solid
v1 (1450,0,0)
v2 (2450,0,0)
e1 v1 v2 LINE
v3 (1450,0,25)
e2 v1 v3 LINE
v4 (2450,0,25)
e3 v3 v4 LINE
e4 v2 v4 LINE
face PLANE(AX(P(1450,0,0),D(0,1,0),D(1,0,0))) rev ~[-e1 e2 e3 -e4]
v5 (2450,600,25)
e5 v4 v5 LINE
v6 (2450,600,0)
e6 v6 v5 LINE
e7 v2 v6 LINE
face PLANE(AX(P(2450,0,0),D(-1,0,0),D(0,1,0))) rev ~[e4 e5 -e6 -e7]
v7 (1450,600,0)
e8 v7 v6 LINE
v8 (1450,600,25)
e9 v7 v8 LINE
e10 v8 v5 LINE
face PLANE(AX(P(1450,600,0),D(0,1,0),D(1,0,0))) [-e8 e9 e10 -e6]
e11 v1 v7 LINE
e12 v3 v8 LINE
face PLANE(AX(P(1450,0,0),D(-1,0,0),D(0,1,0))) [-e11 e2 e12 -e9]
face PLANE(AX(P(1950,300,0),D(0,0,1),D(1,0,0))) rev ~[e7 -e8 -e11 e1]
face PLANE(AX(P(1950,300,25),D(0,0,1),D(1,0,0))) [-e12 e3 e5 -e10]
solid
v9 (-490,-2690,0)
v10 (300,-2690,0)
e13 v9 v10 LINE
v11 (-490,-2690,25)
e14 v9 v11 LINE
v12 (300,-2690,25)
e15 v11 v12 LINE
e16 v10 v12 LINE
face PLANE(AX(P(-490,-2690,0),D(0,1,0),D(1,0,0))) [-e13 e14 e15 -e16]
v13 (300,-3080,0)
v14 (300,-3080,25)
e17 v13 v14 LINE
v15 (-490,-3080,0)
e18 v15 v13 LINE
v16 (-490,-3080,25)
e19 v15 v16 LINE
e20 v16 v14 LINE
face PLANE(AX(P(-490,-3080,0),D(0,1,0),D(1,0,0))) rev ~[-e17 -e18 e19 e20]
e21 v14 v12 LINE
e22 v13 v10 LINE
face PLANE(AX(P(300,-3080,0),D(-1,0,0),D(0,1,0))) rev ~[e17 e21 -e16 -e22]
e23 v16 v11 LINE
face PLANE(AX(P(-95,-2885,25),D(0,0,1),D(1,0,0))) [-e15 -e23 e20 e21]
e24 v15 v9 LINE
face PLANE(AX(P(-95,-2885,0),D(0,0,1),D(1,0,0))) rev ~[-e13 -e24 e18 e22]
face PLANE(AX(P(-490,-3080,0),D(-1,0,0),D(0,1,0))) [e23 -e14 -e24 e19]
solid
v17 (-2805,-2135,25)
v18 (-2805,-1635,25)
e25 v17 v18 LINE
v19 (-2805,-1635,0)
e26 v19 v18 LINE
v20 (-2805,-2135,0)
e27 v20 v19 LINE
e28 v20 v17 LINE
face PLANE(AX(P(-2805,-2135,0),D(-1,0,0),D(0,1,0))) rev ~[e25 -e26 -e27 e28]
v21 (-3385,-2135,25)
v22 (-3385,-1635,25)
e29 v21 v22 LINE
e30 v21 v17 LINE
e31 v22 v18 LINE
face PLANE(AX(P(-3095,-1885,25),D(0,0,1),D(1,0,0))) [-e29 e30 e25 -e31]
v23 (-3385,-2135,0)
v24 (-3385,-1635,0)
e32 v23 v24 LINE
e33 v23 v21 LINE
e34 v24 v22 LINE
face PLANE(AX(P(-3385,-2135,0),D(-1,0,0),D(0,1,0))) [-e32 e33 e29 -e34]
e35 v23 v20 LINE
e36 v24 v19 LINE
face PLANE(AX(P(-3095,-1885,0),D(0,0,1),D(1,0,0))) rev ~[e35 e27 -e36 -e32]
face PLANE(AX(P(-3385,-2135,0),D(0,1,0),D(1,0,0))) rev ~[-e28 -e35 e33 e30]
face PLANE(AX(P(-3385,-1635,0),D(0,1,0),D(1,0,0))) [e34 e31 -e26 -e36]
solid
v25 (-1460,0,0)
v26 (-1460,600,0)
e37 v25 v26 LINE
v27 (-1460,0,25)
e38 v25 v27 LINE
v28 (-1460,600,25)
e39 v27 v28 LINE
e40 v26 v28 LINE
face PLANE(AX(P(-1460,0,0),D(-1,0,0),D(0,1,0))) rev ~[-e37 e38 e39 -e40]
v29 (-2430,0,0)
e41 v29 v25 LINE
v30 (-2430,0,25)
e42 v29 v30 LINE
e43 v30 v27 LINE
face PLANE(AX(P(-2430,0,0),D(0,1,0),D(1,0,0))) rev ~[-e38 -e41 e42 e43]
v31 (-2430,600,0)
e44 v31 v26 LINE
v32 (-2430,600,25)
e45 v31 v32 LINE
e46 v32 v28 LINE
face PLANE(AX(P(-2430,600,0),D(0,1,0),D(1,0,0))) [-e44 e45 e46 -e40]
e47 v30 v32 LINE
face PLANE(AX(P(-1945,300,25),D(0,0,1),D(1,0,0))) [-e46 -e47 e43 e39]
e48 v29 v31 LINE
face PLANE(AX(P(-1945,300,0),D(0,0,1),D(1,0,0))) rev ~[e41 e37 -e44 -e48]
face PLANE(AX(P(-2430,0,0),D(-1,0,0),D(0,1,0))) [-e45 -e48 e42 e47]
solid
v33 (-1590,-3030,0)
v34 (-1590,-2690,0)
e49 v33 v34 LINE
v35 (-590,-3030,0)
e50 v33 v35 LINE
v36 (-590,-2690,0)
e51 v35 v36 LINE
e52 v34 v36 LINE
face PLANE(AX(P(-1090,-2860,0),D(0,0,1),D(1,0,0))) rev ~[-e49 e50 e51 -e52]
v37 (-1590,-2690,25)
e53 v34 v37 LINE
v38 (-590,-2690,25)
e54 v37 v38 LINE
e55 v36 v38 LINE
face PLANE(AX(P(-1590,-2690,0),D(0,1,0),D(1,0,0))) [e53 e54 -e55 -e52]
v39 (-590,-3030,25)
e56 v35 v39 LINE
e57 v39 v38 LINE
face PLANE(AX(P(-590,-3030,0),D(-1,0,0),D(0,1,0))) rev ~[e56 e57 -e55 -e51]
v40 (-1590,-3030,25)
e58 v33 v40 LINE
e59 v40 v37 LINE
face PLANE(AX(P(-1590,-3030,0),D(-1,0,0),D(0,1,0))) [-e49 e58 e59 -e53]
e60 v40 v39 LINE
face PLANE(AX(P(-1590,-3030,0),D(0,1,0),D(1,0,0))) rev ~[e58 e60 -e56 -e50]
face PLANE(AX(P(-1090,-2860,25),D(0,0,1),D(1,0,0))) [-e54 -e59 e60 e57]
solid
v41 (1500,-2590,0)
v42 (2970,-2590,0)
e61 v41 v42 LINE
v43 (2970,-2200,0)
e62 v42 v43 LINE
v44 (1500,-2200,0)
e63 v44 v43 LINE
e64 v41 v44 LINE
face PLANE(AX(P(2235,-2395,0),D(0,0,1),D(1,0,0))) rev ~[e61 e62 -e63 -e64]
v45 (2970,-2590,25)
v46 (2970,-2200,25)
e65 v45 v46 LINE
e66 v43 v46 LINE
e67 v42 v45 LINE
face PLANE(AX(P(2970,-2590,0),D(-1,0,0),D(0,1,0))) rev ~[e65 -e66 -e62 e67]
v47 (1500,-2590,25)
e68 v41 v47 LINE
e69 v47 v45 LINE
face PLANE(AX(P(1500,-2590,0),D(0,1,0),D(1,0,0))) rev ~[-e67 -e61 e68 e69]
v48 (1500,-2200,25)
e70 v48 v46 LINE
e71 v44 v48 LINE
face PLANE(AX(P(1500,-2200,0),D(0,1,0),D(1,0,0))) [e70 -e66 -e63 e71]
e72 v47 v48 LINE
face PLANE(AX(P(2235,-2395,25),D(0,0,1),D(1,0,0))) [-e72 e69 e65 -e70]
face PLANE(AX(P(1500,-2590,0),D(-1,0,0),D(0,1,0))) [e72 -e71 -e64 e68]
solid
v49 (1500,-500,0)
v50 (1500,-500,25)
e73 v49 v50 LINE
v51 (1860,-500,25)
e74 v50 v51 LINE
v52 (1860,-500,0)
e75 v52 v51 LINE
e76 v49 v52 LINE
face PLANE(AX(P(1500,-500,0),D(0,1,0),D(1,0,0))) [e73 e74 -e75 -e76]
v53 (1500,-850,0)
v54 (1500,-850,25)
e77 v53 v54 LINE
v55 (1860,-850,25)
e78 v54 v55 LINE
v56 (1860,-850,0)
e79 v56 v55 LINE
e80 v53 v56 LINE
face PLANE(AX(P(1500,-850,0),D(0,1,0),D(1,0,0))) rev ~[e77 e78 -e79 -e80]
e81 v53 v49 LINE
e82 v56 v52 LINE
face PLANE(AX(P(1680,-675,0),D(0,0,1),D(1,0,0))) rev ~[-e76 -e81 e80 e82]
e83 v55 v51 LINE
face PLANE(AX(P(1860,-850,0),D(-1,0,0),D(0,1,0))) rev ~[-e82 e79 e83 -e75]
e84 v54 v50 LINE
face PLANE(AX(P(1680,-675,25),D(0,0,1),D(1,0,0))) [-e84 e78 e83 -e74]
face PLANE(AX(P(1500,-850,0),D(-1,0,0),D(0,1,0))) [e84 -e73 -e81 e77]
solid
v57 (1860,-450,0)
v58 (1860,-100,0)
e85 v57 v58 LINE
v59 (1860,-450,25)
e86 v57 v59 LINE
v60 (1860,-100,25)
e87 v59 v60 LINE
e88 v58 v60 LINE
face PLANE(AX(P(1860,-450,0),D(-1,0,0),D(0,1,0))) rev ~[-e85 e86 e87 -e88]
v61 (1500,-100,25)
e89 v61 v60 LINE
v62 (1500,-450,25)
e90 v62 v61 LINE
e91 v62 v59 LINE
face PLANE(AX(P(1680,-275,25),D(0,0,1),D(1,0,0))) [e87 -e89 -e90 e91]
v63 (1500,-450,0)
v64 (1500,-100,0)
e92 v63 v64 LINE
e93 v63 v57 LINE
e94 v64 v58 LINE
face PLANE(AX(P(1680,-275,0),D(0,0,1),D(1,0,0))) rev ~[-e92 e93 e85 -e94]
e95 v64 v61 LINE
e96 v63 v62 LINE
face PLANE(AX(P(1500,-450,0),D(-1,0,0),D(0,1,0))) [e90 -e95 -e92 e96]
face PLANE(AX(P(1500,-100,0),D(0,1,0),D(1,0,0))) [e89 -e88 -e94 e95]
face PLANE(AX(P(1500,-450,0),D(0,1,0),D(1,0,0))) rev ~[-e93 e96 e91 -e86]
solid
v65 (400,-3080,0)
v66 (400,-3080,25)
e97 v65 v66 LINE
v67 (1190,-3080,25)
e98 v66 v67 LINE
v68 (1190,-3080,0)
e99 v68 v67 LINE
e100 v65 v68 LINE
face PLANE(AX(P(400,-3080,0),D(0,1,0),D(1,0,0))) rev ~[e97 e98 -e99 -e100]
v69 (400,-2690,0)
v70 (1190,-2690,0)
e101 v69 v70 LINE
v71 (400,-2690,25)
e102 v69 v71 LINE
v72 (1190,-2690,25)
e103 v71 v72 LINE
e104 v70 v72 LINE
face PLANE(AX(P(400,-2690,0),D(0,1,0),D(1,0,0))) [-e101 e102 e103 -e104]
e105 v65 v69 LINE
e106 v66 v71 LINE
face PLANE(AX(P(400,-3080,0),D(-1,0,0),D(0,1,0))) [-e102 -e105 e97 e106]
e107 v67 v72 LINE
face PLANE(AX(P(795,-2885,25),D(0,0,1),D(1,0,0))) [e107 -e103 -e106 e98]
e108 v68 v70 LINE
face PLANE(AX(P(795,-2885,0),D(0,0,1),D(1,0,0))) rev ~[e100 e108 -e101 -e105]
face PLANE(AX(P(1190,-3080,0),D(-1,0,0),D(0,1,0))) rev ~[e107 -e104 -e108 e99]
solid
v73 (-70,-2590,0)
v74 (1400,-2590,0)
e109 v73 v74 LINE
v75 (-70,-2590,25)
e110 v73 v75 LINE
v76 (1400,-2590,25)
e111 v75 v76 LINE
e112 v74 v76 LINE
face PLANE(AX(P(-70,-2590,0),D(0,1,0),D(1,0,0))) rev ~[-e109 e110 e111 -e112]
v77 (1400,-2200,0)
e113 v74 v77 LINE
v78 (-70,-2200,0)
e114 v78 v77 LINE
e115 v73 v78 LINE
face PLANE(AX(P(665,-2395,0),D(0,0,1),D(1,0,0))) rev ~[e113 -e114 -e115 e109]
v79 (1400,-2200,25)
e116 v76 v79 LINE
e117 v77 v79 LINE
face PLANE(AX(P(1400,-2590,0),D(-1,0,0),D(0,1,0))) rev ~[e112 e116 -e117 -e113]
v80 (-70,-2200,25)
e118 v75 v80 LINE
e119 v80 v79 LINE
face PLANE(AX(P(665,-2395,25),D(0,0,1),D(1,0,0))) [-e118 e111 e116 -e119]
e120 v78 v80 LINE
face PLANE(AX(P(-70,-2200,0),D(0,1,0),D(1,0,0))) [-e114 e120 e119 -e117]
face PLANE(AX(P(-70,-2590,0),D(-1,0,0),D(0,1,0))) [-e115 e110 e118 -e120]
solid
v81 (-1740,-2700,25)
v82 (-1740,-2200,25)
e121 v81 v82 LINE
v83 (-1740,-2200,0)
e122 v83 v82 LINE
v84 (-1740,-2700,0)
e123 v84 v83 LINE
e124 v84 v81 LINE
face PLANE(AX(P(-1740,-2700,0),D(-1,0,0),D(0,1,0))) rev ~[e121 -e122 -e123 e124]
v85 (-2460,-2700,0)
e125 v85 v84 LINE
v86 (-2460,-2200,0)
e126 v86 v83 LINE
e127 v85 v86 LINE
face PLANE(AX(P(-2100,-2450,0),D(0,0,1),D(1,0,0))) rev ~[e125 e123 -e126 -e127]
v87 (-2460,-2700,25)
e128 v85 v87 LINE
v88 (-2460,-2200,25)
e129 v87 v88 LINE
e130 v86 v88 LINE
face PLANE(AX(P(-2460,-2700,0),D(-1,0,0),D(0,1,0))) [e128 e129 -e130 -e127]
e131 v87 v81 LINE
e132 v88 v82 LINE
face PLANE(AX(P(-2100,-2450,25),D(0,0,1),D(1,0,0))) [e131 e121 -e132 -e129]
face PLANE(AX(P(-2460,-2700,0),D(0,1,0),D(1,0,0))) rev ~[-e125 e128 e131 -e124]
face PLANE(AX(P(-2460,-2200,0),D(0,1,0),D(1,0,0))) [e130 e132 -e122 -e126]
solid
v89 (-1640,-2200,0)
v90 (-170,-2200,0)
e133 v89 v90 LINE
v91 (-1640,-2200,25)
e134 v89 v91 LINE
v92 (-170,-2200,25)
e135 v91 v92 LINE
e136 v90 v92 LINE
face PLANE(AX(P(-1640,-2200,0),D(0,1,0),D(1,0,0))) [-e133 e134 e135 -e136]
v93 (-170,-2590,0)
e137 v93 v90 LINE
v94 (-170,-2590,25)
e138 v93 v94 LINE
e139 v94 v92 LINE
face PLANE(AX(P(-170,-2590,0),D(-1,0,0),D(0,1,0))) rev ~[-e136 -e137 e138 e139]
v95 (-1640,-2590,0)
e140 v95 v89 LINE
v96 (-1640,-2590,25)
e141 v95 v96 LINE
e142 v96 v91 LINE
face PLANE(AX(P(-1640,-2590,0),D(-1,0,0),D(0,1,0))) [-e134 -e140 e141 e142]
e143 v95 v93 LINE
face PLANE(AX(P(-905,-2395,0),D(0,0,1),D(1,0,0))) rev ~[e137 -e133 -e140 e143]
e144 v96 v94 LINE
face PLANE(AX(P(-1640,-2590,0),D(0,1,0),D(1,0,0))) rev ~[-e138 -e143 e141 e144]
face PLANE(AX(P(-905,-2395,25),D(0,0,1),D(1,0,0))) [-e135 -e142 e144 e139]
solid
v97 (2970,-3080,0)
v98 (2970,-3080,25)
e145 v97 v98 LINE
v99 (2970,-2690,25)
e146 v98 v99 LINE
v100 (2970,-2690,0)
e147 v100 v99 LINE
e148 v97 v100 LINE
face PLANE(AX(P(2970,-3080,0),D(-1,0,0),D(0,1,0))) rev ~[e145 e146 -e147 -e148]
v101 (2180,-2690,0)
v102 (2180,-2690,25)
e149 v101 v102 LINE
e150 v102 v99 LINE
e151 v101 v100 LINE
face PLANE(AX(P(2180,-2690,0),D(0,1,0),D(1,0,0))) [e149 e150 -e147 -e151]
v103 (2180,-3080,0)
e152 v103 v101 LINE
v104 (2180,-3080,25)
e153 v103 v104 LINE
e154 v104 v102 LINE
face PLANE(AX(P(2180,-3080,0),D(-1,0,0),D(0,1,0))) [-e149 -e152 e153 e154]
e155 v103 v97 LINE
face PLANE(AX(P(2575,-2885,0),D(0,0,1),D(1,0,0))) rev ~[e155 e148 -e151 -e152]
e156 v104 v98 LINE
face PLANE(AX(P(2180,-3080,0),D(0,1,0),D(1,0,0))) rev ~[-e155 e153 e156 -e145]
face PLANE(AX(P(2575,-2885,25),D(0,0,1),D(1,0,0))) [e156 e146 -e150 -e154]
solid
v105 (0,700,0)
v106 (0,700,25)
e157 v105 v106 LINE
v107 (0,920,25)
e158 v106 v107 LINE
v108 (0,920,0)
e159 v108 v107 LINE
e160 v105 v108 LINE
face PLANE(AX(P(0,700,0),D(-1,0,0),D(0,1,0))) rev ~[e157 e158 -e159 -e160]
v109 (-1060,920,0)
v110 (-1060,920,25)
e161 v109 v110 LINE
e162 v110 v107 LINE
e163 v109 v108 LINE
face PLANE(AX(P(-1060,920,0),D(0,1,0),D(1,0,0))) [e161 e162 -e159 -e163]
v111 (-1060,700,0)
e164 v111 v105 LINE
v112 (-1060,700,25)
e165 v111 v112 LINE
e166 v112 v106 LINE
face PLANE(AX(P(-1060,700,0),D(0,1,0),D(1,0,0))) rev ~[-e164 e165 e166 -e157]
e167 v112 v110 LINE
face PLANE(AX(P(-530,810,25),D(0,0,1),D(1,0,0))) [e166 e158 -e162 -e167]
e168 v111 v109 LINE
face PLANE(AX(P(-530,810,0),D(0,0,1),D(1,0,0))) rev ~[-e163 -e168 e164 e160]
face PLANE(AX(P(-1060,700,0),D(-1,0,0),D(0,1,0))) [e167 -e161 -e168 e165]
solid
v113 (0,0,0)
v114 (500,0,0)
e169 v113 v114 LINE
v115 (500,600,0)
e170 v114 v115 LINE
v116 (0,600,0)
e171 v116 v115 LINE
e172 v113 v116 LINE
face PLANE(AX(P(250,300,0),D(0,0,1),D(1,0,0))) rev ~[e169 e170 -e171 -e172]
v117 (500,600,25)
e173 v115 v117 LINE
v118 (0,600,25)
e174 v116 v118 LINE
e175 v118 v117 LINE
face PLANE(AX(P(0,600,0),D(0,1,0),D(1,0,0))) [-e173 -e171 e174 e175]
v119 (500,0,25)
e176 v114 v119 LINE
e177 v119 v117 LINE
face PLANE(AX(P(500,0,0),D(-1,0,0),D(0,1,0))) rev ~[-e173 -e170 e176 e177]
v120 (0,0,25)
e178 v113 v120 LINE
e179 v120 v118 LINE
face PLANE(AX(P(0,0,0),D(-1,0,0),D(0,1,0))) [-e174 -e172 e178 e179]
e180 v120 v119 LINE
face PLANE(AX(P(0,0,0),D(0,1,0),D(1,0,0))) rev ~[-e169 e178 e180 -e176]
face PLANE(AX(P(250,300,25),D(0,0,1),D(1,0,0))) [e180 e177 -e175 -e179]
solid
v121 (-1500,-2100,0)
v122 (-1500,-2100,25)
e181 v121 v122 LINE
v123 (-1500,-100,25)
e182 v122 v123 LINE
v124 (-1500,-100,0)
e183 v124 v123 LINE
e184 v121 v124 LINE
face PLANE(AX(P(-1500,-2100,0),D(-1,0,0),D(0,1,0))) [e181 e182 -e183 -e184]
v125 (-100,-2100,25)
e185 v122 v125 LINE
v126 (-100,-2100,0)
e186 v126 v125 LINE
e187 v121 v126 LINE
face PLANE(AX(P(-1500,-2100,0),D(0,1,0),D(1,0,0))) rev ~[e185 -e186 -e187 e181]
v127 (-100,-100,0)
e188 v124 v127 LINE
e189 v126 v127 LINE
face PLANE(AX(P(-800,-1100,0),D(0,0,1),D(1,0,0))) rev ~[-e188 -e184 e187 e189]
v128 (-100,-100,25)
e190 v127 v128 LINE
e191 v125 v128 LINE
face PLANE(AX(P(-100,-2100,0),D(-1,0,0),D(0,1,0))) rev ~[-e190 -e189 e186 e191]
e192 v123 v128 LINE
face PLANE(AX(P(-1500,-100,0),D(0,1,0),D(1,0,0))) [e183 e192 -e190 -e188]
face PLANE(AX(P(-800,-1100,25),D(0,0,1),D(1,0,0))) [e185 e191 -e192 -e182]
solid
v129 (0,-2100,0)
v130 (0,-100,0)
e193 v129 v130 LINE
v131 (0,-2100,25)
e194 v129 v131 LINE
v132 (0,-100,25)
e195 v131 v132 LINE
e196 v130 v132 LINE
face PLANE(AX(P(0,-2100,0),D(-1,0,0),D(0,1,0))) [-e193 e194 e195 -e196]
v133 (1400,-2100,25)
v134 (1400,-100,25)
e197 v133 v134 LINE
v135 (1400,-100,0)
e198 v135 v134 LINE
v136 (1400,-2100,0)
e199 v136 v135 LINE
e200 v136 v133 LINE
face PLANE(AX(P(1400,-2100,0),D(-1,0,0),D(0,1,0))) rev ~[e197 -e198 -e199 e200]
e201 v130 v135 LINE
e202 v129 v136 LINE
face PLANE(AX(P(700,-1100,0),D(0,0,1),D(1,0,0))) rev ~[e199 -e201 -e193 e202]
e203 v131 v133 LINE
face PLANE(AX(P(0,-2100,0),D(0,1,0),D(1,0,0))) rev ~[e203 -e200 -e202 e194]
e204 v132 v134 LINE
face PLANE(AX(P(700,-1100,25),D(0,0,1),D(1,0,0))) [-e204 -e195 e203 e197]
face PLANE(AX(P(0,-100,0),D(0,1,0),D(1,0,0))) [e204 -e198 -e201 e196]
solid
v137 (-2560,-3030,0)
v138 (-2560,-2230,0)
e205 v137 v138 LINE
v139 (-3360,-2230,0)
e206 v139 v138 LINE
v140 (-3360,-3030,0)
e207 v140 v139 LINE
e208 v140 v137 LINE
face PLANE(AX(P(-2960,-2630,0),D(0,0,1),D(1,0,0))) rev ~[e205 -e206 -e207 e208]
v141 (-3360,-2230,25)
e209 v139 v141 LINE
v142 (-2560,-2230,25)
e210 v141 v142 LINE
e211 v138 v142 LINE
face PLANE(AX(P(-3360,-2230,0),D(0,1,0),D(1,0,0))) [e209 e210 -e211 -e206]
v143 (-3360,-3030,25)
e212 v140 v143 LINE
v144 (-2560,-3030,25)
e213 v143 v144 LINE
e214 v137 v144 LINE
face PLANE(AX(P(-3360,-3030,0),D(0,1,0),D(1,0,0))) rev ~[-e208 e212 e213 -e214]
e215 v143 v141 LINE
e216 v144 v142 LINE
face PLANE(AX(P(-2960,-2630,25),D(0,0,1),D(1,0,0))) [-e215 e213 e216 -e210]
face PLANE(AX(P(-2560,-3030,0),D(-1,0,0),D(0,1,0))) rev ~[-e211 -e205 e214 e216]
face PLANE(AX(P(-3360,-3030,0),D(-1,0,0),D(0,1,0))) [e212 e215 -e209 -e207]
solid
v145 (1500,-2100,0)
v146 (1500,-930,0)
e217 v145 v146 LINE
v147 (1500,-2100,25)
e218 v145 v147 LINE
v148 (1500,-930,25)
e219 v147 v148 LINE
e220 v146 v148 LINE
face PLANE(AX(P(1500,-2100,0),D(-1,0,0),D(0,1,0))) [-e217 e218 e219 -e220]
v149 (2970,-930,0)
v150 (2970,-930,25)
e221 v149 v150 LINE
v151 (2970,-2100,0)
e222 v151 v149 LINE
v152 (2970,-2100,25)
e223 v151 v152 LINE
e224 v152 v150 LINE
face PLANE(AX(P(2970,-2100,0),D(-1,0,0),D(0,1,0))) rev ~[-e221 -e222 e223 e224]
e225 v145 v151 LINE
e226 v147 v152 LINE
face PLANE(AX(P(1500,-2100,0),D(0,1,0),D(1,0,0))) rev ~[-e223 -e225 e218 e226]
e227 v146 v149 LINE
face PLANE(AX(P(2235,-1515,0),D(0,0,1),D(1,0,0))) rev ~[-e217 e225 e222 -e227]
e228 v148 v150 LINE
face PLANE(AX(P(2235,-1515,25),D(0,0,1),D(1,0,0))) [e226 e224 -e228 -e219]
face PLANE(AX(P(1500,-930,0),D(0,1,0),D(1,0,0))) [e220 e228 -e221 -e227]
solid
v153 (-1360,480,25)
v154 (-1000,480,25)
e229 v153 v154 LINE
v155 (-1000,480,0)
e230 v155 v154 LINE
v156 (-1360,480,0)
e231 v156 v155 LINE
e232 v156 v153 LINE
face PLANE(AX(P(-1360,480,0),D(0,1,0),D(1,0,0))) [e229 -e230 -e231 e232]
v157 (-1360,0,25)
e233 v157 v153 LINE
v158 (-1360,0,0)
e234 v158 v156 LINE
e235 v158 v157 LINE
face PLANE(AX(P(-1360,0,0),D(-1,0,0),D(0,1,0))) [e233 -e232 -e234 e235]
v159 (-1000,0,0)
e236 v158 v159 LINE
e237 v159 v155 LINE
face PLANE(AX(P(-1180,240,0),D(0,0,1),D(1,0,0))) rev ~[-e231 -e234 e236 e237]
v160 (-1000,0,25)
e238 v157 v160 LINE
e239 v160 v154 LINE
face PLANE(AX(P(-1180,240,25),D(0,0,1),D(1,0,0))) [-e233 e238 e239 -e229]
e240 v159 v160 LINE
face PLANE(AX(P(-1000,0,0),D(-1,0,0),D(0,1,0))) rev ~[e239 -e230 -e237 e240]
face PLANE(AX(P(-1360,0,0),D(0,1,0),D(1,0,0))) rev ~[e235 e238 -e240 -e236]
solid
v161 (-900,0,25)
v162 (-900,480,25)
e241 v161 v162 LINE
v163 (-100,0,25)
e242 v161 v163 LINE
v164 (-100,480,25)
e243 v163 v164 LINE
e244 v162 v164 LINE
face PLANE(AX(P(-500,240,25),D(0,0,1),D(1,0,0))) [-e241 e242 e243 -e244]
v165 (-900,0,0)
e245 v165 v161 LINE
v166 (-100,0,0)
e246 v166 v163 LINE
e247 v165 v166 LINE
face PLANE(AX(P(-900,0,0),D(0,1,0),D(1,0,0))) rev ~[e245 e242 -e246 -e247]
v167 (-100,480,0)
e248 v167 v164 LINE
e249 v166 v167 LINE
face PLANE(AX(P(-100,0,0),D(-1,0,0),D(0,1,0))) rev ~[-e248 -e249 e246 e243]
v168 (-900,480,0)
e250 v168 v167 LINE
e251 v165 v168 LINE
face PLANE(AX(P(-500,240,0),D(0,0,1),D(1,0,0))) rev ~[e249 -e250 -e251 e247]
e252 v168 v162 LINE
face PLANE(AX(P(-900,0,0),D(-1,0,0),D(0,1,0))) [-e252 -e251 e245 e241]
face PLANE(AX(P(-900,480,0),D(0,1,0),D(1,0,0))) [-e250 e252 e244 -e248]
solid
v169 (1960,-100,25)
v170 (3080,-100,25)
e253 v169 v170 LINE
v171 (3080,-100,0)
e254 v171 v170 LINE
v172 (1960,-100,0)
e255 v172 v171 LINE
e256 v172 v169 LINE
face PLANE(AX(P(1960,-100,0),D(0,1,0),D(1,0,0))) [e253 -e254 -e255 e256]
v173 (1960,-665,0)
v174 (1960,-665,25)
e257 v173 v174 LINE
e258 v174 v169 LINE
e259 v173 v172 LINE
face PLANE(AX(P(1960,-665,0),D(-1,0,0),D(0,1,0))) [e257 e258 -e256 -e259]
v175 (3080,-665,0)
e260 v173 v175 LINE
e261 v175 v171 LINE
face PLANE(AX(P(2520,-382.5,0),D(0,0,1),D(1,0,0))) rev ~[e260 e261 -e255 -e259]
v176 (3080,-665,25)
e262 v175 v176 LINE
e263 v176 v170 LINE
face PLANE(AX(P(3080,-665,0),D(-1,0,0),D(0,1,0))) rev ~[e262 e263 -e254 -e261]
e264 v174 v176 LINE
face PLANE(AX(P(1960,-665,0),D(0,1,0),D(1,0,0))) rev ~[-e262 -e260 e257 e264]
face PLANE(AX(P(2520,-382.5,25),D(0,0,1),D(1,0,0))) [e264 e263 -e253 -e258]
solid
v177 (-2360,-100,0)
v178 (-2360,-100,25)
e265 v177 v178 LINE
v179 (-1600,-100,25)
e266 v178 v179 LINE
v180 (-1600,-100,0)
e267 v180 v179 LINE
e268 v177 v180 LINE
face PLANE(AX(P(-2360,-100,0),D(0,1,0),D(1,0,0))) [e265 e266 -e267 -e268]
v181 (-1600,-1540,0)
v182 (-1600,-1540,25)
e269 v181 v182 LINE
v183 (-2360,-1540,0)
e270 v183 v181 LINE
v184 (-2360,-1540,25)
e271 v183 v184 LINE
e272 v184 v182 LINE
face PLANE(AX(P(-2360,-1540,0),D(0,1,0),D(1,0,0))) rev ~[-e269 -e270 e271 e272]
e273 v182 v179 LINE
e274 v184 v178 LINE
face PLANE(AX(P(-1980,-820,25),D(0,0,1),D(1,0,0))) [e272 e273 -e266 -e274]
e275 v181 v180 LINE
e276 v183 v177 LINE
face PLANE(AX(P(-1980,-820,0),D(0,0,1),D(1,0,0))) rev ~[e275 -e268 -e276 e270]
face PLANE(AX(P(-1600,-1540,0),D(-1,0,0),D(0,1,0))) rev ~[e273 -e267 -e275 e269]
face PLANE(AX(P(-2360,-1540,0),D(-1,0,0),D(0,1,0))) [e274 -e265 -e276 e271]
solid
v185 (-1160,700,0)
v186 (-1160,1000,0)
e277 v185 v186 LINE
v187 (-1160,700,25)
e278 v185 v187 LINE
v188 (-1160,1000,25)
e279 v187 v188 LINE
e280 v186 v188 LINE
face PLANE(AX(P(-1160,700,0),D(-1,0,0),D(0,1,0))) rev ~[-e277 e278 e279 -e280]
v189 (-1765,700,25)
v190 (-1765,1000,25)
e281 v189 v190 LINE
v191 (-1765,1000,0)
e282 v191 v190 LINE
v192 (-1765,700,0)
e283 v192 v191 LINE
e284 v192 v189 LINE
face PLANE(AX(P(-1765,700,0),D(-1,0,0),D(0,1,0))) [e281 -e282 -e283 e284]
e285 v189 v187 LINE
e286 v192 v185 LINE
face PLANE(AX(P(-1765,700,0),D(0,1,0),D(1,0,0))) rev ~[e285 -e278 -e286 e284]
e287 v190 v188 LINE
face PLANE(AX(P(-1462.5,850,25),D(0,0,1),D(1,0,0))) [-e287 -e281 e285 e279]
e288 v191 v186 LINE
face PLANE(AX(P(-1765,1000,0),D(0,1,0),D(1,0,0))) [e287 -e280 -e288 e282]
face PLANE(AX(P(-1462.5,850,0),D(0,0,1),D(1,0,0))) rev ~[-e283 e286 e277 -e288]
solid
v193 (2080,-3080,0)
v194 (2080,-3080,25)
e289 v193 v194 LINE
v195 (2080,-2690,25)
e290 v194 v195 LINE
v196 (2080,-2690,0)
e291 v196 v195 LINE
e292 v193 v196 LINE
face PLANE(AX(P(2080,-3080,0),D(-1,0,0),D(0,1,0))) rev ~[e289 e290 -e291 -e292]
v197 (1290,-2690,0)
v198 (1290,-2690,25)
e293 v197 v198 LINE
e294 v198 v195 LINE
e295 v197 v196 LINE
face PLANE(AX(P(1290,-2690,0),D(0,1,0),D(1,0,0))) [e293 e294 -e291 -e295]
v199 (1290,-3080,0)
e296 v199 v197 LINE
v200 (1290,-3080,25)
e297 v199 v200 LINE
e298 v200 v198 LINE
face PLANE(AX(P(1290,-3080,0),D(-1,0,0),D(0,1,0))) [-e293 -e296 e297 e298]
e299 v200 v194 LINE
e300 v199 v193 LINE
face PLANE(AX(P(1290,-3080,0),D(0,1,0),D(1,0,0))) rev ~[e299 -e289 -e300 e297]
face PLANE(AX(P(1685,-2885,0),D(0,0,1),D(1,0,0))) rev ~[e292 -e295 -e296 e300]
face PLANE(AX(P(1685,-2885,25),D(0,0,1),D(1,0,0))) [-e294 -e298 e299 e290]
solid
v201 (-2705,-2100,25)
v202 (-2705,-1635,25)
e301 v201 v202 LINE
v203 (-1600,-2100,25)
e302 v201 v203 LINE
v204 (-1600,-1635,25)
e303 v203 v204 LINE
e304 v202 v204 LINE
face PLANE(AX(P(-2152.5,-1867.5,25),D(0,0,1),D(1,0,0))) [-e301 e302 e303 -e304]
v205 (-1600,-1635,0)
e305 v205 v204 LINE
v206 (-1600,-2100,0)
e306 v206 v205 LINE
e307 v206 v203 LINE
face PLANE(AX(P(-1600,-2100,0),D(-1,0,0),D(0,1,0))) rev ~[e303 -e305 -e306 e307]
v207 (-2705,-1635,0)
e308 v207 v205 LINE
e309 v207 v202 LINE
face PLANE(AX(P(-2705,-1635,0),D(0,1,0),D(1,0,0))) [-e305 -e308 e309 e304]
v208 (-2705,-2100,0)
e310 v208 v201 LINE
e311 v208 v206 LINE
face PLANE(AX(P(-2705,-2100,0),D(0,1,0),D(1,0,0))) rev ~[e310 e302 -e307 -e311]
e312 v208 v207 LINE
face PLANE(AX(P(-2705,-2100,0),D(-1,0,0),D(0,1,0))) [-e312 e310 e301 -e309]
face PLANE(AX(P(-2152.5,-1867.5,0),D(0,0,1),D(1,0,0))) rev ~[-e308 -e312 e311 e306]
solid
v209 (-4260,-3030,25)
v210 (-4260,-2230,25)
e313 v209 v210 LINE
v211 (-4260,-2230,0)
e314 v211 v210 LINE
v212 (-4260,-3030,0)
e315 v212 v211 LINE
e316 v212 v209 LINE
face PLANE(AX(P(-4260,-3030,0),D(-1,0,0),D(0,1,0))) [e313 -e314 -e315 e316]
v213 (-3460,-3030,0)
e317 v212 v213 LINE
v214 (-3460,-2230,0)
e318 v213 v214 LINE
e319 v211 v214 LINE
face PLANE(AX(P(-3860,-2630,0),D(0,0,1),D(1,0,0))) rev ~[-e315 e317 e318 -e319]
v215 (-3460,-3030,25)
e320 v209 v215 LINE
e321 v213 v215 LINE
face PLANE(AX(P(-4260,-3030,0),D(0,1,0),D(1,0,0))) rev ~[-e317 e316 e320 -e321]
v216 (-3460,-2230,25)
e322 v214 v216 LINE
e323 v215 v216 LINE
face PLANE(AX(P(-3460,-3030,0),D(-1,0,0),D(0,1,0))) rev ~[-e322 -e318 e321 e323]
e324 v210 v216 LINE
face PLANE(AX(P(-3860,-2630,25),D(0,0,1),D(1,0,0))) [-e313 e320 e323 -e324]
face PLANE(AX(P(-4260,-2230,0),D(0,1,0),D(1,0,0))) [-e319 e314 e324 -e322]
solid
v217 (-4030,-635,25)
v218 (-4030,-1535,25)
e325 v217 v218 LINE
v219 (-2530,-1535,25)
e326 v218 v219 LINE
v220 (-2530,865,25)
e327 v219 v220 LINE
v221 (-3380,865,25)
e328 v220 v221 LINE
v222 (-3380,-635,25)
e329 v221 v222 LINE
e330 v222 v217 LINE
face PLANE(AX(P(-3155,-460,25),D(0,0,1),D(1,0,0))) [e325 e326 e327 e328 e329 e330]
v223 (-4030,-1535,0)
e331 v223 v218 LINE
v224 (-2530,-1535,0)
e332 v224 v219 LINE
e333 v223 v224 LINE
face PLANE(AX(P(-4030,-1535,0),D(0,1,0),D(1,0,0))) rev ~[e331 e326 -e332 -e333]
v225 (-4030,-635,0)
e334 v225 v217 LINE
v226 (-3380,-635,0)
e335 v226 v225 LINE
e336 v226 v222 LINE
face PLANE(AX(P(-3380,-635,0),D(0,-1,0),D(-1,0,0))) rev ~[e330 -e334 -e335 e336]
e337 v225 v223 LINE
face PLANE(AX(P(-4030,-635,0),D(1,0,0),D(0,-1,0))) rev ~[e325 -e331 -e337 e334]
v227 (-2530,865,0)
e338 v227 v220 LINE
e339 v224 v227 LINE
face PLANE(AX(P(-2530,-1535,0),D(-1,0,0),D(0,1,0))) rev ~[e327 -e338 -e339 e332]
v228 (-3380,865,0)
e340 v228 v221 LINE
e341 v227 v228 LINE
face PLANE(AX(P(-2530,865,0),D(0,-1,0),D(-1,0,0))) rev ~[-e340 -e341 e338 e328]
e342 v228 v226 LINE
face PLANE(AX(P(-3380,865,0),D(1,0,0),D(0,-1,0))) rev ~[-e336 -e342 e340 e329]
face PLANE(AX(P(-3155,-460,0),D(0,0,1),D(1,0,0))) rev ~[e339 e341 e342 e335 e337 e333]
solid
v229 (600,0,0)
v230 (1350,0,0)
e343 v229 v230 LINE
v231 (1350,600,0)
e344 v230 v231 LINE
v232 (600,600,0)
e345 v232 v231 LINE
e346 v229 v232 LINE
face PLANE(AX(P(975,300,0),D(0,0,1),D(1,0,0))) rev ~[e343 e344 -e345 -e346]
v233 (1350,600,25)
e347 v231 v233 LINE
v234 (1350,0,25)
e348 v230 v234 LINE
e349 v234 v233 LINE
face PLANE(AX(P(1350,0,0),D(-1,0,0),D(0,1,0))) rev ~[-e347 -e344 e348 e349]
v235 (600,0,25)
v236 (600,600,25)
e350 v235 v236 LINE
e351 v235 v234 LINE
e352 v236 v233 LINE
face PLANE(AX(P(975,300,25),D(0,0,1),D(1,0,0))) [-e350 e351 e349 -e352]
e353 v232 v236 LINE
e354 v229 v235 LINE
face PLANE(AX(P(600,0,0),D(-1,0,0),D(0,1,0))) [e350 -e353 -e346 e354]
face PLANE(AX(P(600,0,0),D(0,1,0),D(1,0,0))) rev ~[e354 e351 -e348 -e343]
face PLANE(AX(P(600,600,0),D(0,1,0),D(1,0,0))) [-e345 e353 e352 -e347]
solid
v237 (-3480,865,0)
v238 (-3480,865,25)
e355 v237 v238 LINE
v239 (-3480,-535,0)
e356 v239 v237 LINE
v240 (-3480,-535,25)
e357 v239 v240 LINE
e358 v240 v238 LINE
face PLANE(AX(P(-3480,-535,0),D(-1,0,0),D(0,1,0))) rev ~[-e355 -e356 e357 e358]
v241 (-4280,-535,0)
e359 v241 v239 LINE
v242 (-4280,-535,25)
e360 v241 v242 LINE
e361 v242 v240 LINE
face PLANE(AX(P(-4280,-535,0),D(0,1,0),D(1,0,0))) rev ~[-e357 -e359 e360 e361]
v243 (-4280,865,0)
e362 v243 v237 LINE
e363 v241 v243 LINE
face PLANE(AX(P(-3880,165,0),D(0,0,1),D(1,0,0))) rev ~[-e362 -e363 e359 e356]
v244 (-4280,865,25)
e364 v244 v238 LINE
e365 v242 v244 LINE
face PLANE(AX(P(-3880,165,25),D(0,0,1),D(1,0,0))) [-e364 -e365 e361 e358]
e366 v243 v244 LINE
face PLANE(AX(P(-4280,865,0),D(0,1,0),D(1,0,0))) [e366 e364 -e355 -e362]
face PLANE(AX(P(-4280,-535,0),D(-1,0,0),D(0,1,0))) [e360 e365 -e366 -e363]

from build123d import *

# Parameters (mm, degrees)
F0_W     = 500
F0_H     = 600
F0_W_2   = 750
F0_W_3   = 1000
F0_W_4   = 1400
F0_H_2   = 2000
F0_W_5   = 360
F0_H_3   = 350
F0_W_6   = 1470
F0_H_4   = 1170
F0_W_7   = 800
F0_H_5   = 480
F0_W_8   = 970
F0_W_9   = 760
F0_H_6   = 1440
F0_W_10  = 1105
F0_H_7   = 465
F0_W_11  = 1060
F0_H_8   = 220
F0_W_12  = 605
F0_H_9   = 300
F0_W_13  = 1120
F0_H_10  = 565
F0_H_11  = 390
F0_W_14  = 790
F0_W_15  = 580
F0_H_12  = 500
F0_W_16  = 720
F0_H_13  = 340
F0_H_14  = 800
F0_H_15  = 1400
F1_DEPTH = 25


with BuildPart() as f1:
    # F0 (on Top) → F1 (new body)
    with BuildSketch(Plane.XY):
        with Locations((250, 300)):
            Rectangle(F0_W, F0_H)
        with Locations((975, 300)):
            Rectangle(F0_W_2, F0_H)
        with Locations((1950, 300)):
            Rectangle(F0_W_3, F0_H)
        with Locations((700, -1100)):
            Rectangle(F0_W_4, F0_H_2)
        with Locations((1680, -275)):
            Rectangle(F0_W_5, F0_H_3)
        with Locations((1680, -675)):
            Rectangle(F0_W_5, F0_H_3)
        with Locations((-800, -1100)):
            Rectangle(F0_W_4, F0_H_2)
        with Locations((2235, -1515)):
            Rectangle(F0_W_6, F0_H_4)
        with Locations((-500, 240)):
            Rectangle(F0_W_7, F0_H_5)
        with Locations((-1180, 240)):
            Rectangle(F0_W_5, F0_H_5)
        with Locations((-1945, 300)):
            Rectangle(F0_W_8, F0_H)
        with Locations((-1980, -820)):
            Rectangle(F0_W_9, F0_H_6)
        with Locations((-2152.5, -1867.5)):
            Rectangle(F0_W_10, F0_H_7)
        with Locations((-530, 810)):
            Rectangle(F0_W_11, F0_H_8)
        with Locations((-1462.5, 850)):
            Rectangle(F0_W_12, F0_H_9)
        with Locations((2520, -382.5)):
            Rectangle(F0_W_13, F0_H_10)
        Polygon((-4030, -1535), (-2530, -1535), (-2530, 865), (-3380, 865), (-3380, -635), (-4030, -635), align=None)
        with Locations((2235, -2395)):
            Rectangle(F0_W_6, F0_H_11)
        with Locations((665, -2395)):
            Rectangle(F0_W_6, F0_H_11)
        with Locations((-905, -2395)):
            Rectangle(F0_W_6, F0_H_11)
        with Locations((2575, -2885)):
            Rectangle(F0_W_14, F0_H_11)
        with Locations((1685, -2885)):
            Rectangle(F0_W_14, F0_H_11)
        with Locations((795, -2885)):
            Rectangle(F0_W_14, F0_H_11)
        with Locations((-95, -2885)):
            Rectangle(F0_W_14, F0_H_11)
        with Locations((-3095, -1885)):
            Rectangle(F0_W_15, F0_H_12)
        with Locations((-2100, -2450)):
            Rectangle(F0_W_16, F0_H_12)
        with Locations((-1090, -2860)):
            Rectangle(F0_W_3, F0_H_13)
        with Locations((-2960, -2630)):
            Rectangle(F0_W_7, F0_H_14)
        with Locations((-3860, -2630)):
            Rectangle(F0_W_7, F0_H_14)
        with Locations((-3880, 165)):
            Rectangle(F0_W_7, F0_H_15)
    extrude(amount=F1_DEPTH)


solid = f1.part
